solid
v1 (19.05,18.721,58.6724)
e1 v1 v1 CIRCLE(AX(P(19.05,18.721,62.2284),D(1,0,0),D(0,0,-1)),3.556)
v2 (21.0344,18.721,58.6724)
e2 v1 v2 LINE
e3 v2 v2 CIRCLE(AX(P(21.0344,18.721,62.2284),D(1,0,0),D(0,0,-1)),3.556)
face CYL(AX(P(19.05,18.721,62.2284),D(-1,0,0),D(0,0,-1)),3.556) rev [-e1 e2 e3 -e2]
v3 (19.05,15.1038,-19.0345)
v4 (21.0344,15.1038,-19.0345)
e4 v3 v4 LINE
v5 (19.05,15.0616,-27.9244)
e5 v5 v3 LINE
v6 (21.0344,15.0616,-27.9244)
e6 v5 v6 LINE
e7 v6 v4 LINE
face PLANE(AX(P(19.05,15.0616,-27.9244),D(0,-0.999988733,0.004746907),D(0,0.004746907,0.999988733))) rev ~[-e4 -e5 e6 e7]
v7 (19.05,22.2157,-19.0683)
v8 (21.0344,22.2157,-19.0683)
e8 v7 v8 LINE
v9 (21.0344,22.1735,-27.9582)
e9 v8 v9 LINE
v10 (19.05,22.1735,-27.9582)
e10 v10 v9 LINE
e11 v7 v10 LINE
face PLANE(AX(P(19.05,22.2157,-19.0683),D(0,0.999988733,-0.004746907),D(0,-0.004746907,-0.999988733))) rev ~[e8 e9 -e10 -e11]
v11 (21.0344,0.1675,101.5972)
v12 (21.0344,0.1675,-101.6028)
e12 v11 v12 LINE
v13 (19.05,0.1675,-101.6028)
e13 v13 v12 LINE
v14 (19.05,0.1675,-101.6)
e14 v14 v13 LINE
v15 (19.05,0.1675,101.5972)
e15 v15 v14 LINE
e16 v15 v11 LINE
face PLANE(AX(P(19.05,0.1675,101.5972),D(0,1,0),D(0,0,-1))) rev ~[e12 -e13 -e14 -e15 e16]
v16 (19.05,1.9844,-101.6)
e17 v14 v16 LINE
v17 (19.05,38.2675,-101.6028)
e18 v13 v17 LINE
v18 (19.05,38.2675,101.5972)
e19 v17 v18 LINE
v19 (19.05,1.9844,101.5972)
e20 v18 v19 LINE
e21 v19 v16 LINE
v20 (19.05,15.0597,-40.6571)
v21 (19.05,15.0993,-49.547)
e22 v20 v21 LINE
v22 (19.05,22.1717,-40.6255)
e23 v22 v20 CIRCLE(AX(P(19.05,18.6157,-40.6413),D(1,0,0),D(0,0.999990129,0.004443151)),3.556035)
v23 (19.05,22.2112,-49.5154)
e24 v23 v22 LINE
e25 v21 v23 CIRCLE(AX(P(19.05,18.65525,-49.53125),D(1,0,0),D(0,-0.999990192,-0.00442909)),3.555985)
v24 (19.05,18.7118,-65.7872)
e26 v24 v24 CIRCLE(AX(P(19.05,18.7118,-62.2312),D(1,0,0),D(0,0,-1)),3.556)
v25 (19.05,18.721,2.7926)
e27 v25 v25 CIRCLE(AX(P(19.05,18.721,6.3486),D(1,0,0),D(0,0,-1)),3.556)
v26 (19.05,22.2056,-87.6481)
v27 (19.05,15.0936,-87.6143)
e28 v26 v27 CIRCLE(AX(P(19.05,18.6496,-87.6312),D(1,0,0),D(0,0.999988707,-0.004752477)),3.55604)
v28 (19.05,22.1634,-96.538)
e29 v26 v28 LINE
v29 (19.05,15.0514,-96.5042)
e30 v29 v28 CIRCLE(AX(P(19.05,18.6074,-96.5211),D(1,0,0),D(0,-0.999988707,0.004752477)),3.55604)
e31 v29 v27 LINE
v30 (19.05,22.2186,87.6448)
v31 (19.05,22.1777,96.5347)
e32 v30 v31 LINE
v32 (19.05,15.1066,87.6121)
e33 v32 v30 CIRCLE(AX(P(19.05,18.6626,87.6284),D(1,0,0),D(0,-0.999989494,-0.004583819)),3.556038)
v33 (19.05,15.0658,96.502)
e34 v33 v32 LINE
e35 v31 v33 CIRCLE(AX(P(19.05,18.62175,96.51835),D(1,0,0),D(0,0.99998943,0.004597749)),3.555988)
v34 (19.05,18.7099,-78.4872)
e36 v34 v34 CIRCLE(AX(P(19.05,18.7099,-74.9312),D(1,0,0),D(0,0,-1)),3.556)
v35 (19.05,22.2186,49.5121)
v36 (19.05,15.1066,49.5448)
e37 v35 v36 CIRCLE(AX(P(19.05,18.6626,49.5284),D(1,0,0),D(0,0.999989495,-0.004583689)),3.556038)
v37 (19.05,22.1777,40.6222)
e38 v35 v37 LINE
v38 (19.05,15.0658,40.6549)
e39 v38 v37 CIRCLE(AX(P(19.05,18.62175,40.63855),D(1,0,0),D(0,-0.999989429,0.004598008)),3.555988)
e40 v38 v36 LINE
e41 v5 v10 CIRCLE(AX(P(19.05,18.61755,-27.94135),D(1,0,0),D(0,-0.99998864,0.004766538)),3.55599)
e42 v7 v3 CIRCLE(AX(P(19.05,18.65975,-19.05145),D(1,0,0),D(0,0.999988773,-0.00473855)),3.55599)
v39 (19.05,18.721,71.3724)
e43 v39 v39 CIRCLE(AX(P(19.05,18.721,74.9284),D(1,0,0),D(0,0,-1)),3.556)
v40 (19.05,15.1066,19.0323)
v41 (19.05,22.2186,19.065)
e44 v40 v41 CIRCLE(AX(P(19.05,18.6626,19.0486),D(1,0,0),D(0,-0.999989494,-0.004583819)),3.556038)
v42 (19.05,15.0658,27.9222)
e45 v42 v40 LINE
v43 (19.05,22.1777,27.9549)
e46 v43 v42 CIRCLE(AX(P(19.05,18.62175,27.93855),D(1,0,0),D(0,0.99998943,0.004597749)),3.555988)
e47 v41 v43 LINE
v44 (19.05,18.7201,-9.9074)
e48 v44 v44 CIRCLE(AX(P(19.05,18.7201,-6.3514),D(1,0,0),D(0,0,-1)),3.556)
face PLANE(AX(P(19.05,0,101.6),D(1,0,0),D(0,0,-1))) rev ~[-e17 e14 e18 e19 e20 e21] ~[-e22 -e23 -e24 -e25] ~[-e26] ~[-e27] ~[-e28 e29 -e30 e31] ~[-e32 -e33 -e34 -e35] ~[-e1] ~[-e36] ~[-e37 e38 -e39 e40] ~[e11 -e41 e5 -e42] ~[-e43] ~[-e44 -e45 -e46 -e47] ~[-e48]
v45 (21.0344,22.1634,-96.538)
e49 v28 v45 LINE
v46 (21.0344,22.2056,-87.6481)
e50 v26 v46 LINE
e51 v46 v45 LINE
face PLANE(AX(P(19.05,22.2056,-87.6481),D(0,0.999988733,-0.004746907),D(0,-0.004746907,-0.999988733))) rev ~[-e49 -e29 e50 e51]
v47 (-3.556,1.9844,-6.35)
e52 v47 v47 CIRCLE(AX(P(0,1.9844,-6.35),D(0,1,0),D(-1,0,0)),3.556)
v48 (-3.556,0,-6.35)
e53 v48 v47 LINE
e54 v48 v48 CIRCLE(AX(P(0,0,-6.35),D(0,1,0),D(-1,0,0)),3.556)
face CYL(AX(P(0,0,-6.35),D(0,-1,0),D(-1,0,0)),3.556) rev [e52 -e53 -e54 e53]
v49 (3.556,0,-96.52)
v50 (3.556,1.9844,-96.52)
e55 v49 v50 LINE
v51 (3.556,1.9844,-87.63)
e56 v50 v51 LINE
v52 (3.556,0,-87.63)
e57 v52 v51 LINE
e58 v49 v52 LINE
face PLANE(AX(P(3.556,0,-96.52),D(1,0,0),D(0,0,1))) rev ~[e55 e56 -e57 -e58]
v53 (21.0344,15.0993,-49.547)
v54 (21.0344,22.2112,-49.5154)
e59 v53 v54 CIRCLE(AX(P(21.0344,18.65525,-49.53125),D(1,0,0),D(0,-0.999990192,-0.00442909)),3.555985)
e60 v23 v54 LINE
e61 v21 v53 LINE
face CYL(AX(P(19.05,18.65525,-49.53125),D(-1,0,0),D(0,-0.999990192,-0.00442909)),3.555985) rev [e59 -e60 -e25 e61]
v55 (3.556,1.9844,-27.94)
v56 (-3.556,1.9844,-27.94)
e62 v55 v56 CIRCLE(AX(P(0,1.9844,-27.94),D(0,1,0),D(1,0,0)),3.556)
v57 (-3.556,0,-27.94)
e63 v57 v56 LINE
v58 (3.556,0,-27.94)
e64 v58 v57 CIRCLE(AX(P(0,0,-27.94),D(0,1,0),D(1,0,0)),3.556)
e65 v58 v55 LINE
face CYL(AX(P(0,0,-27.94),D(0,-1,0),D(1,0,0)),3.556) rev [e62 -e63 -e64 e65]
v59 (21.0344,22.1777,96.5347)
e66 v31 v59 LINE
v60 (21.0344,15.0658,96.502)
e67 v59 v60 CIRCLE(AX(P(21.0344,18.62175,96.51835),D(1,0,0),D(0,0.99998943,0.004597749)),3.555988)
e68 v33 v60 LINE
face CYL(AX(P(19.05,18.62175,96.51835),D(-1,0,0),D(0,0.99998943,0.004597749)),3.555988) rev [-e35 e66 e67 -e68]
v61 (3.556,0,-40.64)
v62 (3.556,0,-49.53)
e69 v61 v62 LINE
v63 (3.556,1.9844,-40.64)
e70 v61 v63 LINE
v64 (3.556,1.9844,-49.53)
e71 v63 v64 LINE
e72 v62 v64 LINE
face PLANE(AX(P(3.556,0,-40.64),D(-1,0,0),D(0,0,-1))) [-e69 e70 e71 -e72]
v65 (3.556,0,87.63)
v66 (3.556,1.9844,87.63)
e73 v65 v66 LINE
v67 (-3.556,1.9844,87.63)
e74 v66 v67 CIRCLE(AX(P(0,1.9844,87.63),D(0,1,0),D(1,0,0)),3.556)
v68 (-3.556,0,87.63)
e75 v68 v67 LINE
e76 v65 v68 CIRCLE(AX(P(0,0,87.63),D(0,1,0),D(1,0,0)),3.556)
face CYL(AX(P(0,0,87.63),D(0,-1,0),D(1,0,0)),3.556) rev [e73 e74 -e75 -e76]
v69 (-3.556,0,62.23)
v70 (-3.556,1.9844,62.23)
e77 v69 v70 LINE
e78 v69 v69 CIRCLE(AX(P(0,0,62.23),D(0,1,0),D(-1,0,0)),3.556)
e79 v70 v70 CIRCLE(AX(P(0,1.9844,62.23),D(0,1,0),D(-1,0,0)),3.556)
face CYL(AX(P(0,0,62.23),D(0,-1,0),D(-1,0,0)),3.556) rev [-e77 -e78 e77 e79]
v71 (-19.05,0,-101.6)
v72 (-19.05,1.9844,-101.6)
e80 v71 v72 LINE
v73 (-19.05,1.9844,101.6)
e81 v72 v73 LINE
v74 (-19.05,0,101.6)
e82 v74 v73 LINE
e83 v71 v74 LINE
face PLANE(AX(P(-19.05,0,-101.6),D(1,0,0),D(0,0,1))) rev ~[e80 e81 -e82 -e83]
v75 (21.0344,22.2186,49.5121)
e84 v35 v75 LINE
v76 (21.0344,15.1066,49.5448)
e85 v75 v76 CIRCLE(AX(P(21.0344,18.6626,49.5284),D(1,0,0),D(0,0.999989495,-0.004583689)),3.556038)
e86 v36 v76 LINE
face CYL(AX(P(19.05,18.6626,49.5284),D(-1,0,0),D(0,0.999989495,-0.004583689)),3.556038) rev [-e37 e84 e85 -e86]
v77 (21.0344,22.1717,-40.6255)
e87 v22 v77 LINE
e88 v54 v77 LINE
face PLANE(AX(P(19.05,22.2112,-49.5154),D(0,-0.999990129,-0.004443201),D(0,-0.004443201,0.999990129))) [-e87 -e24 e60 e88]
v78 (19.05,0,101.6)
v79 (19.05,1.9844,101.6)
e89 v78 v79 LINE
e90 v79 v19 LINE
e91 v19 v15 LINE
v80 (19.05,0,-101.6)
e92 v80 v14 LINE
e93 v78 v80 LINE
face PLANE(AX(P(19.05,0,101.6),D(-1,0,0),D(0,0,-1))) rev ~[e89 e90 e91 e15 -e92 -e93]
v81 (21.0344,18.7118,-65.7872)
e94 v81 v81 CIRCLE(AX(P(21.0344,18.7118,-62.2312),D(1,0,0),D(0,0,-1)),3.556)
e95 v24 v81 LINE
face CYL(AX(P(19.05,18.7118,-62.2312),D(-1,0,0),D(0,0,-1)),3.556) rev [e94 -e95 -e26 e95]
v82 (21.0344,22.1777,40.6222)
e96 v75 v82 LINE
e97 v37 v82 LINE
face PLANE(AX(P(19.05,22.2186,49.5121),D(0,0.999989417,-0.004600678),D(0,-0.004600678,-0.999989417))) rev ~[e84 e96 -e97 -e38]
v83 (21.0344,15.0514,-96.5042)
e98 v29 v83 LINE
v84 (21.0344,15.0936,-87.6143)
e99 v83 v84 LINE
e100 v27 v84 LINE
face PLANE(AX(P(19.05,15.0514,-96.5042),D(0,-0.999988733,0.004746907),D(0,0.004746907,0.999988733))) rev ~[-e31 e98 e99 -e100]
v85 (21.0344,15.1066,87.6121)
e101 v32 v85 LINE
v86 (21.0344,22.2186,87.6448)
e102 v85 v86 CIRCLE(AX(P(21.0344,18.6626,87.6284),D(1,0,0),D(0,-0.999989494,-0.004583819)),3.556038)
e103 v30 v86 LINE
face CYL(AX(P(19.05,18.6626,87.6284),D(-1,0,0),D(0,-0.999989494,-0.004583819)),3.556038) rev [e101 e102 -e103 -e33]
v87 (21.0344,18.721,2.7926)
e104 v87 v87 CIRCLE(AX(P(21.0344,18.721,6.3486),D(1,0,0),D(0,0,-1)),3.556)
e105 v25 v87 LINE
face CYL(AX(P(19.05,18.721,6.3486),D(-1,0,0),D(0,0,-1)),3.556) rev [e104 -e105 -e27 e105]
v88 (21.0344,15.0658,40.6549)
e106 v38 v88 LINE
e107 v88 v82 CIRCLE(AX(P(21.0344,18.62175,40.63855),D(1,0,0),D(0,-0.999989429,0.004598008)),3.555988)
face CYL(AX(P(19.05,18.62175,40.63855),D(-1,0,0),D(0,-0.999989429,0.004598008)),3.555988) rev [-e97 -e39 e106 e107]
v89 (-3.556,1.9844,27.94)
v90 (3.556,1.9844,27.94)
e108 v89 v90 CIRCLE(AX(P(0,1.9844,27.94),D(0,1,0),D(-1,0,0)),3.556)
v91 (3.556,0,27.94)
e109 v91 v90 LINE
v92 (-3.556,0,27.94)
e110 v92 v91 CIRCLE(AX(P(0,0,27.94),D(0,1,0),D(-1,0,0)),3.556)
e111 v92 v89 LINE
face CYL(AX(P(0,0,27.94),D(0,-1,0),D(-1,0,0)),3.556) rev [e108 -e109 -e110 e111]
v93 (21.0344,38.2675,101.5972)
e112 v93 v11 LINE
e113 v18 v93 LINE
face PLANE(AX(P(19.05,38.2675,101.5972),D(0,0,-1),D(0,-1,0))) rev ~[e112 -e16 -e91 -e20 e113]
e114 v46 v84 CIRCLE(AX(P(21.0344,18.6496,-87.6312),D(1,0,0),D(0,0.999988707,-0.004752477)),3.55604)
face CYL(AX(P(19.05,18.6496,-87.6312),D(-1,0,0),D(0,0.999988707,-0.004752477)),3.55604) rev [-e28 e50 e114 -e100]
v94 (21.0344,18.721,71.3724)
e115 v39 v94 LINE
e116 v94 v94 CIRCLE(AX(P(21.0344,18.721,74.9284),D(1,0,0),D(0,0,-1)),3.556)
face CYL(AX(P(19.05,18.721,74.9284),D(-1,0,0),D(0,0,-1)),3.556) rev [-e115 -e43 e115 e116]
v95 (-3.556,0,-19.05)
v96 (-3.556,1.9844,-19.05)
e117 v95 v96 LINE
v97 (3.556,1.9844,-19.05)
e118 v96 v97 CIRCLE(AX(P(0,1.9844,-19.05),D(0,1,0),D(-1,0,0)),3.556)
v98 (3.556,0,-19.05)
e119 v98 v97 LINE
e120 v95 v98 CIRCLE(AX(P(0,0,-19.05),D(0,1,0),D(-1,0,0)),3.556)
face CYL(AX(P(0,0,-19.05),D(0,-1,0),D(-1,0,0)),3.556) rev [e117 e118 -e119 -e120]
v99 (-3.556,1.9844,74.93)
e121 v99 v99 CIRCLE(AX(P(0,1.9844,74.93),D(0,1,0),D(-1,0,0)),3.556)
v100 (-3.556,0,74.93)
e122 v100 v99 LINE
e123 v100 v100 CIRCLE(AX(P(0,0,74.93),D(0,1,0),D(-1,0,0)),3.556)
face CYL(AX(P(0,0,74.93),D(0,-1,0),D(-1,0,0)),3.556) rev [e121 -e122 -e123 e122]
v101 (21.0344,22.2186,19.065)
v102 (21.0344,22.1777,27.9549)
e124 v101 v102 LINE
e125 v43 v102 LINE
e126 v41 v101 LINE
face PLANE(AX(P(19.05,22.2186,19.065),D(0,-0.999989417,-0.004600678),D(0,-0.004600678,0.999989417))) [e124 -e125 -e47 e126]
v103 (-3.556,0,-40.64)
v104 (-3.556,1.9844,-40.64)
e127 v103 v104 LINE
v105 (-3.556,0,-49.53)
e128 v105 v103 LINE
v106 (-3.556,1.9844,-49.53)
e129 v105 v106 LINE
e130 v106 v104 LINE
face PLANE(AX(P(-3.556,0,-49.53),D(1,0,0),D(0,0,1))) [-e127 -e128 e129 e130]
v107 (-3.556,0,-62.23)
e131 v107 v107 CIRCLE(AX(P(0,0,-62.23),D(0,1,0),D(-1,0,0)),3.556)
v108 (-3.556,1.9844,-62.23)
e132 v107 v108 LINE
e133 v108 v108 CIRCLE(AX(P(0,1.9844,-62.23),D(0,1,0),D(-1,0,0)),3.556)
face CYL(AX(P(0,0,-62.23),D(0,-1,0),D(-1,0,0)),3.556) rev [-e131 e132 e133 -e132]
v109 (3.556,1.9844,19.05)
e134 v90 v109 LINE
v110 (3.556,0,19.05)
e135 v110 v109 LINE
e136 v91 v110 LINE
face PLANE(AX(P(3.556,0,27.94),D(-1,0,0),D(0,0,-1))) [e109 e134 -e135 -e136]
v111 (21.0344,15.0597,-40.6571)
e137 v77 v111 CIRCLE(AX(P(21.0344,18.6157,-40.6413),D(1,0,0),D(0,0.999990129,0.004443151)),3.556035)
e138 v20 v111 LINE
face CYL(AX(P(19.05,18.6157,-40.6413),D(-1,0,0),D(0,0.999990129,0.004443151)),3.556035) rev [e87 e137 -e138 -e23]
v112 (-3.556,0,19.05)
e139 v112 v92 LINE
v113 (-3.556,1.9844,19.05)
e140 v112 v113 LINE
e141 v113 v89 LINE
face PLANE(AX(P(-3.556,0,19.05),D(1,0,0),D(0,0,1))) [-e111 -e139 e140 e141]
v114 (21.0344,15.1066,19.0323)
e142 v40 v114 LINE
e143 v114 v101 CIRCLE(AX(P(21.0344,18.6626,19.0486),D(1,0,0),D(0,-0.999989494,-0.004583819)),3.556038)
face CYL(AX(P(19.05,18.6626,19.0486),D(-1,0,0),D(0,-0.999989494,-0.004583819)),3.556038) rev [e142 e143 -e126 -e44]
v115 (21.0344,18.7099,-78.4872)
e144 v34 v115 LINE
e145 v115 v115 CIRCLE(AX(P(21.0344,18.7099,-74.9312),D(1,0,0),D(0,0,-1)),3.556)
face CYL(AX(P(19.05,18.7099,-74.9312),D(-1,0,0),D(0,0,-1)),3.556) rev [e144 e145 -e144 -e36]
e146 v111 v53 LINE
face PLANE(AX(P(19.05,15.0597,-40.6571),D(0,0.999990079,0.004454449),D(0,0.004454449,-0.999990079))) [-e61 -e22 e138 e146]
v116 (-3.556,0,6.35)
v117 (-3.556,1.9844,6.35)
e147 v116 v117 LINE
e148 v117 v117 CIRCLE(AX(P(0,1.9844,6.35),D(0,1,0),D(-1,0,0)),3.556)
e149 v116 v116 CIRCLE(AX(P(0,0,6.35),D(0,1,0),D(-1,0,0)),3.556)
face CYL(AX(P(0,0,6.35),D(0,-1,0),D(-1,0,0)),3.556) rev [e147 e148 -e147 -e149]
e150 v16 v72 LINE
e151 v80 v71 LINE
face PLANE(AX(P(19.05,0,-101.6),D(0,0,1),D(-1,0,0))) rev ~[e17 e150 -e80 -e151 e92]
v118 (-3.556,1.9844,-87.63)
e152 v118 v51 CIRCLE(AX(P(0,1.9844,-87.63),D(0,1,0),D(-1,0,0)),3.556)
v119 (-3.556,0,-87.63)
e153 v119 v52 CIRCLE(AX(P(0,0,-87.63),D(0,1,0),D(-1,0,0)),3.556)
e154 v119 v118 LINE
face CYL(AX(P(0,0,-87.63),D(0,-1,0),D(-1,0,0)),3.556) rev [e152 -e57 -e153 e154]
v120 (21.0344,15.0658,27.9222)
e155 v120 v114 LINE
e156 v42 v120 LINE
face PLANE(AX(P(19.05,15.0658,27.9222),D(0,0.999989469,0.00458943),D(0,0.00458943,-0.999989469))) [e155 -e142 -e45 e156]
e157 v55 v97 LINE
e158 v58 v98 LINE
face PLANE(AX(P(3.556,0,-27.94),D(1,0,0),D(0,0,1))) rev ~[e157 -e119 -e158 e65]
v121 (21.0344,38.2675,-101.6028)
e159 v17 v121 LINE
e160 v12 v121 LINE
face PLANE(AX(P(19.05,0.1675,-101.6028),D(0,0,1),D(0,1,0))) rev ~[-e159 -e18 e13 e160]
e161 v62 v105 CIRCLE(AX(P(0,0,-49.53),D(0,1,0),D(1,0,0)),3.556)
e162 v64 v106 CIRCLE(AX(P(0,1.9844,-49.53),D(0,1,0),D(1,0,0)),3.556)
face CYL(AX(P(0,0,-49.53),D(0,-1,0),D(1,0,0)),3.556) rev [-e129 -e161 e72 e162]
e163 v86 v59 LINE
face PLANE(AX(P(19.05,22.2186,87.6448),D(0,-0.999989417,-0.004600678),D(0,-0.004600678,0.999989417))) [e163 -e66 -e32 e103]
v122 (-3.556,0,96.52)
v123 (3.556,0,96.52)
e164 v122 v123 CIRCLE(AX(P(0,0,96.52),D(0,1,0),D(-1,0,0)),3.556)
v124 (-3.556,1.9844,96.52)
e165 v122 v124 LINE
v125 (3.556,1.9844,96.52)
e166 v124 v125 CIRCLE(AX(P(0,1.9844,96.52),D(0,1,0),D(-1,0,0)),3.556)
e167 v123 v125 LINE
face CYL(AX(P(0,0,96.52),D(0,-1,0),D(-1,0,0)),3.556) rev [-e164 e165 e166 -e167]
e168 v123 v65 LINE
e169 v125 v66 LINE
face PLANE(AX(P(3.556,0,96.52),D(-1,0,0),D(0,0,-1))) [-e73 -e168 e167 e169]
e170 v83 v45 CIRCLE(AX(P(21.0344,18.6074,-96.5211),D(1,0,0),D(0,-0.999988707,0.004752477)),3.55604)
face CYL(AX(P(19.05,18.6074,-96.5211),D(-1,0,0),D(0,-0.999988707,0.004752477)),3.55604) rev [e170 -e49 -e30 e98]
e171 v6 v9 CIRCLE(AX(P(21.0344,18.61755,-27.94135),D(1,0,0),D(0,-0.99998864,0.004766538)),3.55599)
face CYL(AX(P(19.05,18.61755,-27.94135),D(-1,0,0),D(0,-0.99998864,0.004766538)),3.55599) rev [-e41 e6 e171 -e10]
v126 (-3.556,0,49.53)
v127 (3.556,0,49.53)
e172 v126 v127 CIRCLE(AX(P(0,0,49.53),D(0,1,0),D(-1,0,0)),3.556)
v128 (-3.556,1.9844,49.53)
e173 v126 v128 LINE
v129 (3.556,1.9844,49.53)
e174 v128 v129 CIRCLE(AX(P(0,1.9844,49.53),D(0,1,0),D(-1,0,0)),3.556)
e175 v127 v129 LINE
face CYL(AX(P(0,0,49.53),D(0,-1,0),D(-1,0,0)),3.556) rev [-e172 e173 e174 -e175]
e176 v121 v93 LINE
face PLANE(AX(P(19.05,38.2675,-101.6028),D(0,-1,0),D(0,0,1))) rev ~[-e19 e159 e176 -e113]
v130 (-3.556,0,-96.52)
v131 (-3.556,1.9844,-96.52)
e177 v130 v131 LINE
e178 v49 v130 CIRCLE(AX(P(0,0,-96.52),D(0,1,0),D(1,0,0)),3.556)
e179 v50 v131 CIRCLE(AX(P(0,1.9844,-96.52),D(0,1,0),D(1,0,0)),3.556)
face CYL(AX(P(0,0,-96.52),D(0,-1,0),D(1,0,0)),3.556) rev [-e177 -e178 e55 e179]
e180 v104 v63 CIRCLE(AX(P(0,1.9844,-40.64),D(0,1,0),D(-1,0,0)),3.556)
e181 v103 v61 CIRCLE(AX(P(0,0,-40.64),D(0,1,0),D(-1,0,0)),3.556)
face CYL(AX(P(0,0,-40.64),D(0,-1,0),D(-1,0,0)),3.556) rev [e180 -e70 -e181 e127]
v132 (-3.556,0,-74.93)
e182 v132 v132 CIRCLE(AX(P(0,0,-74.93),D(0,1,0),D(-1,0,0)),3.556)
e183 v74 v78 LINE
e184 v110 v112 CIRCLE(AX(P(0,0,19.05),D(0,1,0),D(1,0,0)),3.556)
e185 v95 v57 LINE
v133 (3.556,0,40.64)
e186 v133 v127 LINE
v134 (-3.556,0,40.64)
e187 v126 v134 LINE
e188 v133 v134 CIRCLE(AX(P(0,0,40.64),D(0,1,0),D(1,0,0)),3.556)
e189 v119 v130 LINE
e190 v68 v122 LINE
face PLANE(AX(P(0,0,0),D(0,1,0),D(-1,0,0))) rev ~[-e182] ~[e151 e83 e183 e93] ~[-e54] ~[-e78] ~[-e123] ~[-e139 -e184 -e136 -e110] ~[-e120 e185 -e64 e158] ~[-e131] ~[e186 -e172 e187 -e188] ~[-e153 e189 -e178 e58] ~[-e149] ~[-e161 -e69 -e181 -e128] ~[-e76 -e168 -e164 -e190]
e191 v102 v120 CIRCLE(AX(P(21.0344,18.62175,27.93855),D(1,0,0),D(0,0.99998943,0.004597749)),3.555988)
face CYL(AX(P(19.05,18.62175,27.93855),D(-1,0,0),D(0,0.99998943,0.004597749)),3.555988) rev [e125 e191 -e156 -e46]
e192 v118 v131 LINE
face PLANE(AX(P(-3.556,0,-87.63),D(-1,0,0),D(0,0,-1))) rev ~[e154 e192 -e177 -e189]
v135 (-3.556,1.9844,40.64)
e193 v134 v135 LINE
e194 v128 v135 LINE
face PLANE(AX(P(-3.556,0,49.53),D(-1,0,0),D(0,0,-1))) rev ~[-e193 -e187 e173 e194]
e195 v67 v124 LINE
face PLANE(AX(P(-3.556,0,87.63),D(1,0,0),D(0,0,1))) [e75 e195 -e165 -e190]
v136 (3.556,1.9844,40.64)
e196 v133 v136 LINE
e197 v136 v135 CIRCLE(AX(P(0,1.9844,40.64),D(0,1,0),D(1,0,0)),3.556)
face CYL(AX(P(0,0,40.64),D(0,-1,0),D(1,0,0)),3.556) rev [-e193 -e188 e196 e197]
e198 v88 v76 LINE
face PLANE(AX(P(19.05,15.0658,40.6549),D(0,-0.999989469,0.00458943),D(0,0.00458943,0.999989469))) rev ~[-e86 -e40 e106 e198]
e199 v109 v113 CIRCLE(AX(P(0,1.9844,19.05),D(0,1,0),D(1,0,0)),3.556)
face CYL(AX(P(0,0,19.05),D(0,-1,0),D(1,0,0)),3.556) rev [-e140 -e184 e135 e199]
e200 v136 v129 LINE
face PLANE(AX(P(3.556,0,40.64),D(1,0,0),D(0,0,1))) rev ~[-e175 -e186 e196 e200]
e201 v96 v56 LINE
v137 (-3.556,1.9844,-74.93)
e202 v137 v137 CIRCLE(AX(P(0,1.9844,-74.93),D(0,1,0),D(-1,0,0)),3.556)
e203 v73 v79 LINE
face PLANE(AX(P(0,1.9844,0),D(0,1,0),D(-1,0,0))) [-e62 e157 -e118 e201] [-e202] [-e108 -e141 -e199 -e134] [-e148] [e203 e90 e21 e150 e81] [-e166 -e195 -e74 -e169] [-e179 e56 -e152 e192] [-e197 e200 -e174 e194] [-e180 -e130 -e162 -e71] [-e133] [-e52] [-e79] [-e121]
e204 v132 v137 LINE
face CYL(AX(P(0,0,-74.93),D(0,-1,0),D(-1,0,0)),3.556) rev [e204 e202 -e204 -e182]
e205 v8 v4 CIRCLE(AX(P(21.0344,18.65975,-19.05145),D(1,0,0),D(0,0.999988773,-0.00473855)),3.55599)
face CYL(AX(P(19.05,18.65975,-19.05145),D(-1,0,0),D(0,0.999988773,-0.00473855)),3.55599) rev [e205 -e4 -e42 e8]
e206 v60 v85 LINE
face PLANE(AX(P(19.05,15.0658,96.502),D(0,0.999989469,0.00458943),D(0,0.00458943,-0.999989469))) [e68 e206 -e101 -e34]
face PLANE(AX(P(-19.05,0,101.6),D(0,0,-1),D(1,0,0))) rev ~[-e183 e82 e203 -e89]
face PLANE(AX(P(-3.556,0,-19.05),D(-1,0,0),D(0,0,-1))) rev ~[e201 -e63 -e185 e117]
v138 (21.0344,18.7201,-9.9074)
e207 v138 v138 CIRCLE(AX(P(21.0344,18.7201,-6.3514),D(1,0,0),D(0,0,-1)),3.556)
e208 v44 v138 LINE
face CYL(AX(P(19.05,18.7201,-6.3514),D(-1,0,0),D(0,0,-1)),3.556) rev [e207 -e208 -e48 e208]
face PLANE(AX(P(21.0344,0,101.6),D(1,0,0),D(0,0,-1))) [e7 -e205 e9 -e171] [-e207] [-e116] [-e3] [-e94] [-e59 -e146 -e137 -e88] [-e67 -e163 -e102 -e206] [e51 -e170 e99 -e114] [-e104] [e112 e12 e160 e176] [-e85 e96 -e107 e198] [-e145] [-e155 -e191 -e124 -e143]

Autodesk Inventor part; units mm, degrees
ref_plane "YZ Plane" through (0, 0, 0) normal (1, 0, 0) x (0, 1, 0)
ref_plane "XZ Plane" through (0, 0, 0) normal (0, 1, 0) x (-1, 0, 0)
ref_plane "XY Plane" through (0, 0, 0) normal (0, 0, 1) x (1, 0, 0)
sketch "Sketch1" plane through (0, 0, 0) normal (0, 1, 0) x (-1, 0, 0)
  line L0 (19.05, 101.6) -> (-19.05, 101.6)
  line L1 (-19.05, 101.6) -> (-19.05, -101.6)
  line L2 (-19.05, -101.6) -> (19.05, -101.6)
  line L3 (19.05, -101.6) -> (19.05, 101.6)
  line L4 (19.05, 101.6) -> (-19.05, -101.6) construction
  line L5 (-19.05, 101.6) -> (19.05, -101.6) construction
  circle A0 centre (0, 62.23) radius 3.556
  circle A1 centre (0, 6.35) radius 3.556
  line L6 (0, 101.6) -> (0, -101.6) construction
  line L7 (0, 49.53) -> (0, 40.64) construction
  line L8 (3.556, 49.53) -> (3.556, 40.64)
  line L9 (-3.556, 40.64) -> (-3.556, 49.53)
  arc A2 (3.556, 49.53) -> (-3.556, 49.53) centre (0, 49.53) ccw
  arc A3 (-3.556, 40.64) -> (3.556, 40.64) centre (0, 40.64) ccw
  line L10 (0, 27.94) -> (0, 19.05) construction
  line L11 (-3.556, 27.94) -> (-3.556, 19.05)
  line L12 (3.556, 19.05) -> (3.556, 27.94)
  arc A4 (3.556, 27.94) -> (-3.556, 27.94) centre (0, 27.94) ccw
  arc A5 (-3.556, 19.05) -> (3.556, 19.05) centre (0, 19.05) ccw
  line L13 (19.05, 68.58) -> (-6.1251, 68.58) construction
  line L14 (-6.1251, 68.58) -> (-19.05, 68.58) construction
  circle A6 centre (0, 74.93) radius 3.556
  circle A7 centre (0, 130.81) radius 3.556
  line L15 (0, 87.63) -> (0, 96.52) construction
  line L16 (3.556, 87.63) -> (3.556, 96.52)
  line L17 (-3.556, 96.52) -> (-3.556, 87.63)
  arc A8 (-3.556, 87.63) -> (3.556, 87.63) centre (0, 87.63) ccw
  arc A9 (3.556, 96.52) -> (-3.556, 96.52) centre (0, 96.52) ccw
  line L18 (0, 109.22) -> (0, 118.11) construction
  line L19 (-3.556, 109.22) -> (-3.556, 118.11)
  line L20 (3.556, 118.11) -> (3.556, 109.22)
  arc A10 (-3.556, 109.22) -> (3.556, 109.22) centre (0, 109.22) ccw
  arc A11 (3.556, 118.11) -> (-3.556, 118.11) centre (0, 118.11) ccw
  line L21 (19.05, 0) -> (-19.05, 0) construction
  circle A12 centre (0, -62.23) radius 3.556
  circle A13 centre (0, -6.35) radius 3.556
  line L22 (0, -49.53) -> (0, -40.64) construction
  line L23 (3.556, -49.53) -> (3.556, -40.64)
  line L24 (-3.556, -40.64) -> (-3.556, -49.53)
  arc A14 (-3.556, -49.53) -> (3.556, -49.53) centre (0, -49.53) ccw
  arc A15 (3.556, -40.64) -> (-3.556, -40.64) centre (0, -40.64) ccw
  line L25 (0, -27.94) -> (0, -19.05) construction
  line L26 (-3.556, -27.94) -> (-3.556, -19.05)
  line L27 (3.556, -19.05) -> (3.556, -27.94)
  arc A16 (-3.556, -27.94) -> (3.556, -27.94) centre (0, -27.94) ccw
  arc A17 (3.556, -19.05) -> (-3.556, -19.05) centre (0, -19.05) ccw
  line L28 (0, -109.22) -> (0, -118.11) construction
  line L29 (3.556, -118.11) -> (3.556, -109.22)
  arc A18 (3.556, -109.22) -> (-3.556, -109.22) centre (0, -109.22) ccw
  arc A19 (-3.556, -118.11) -> (3.556, -118.11) centre (0, -118.11) ccw
  circle A20 centre (0, -130.81) radius 3.556
  line L30 (-3.556, -109.22) -> (-3.556, -118.11)
  line L31 (0, -87.63) -> (0, -96.52) construction
  line L32 (-3.556, -96.52) -> (-3.556, -87.63)
  arc A21 (-3.556, -96.52) -> (3.556, -96.52) centre (0, -96.52) ccw
  arc A22 (3.556, -87.63) -> (-3.556, -87.63) centre (0, -87.63) ccw
  circle A23 centre (0, -74.93) radius 3.556
  line L33 (3.556, -87.63) -> (3.556, -96.52)
  line L34 (19.05, -137.16) -> (-19.05, -137.16) construction
  line L35 (19.05, 137.16) -> (-19.05, 137.16) construction
  circle A24 centre (0, 212.09) radius 3.556
  circle A25 centre (0, 267.97) radius 3.556
  line L36 (0, 224.79) -> (0, 233.68) construction
  line L37 (3.556, 224.79) -> (3.556, 233.68)
  line L38 (-3.556, 233.68) -> (-3.556, 224.79)
  arc A26 (-3.556, 224.79) -> (3.556, 224.79) centre (0, 224.79) ccw
  arc A27 (3.556, 233.68) -> (-3.556, 233.68) centre (0, 233.68) ccw
  line L39 (0, 246.38) -> (0, 255.27) construction
  line L40 (-3.556, 246.38) -> (-3.556, 255.27)
  line L41 (3.556, 255.27) -> (3.556, 246.38)
  arc A28 (-3.556, 246.38) -> (3.556, 246.38) centre (0, 246.38) ccw
  arc A29 (3.556, 255.27) -> (-3.556, 255.27) centre (0, 255.27) ccw
  line L42 (0, 165.1) -> (0, 156.21) construction
  line L43 (3.556, 156.21) -> (3.556, 165.1)
  arc A30 (3.556, 165.1) -> (-3.556, 165.1) centre (0, 165.1) ccw
  arc A31 (-3.556, 156.21) -> (3.556, 156.21) centre (0, 156.21) ccw
  circle A32 centre (0, 143.51) radius 3.556
  line L44 (-3.556, 165.1) -> (-3.556, 156.21)
  line L45 (0, 186.69) -> (0, 177.8) construction
  line L46 (-3.556, 177.8) -> (-3.556, 186.69)
  arc A33 (-3.556, 177.8) -> (3.556, 177.8) centre (0, 177.8) ccw
  arc A34 (3.556, 186.69) -> (-3.556, 186.69) centre (0, 186.69) ccw
  circle A35 centre (0, 199.39) radius 3.556
  line L47 (3.556, 186.69) -> (3.556, 177.8)
  arc A36 (3.556, 302.26) -> (-3.556, 302.26) centre (0, 302.26) ccw
  arc A37 (-3.556, 293.37) -> (3.556, 293.37) centre (0, 293.37) ccw
  circle A38 centre (0, 280.67) radius 3.556
  line L48 (-3.556, 302.26) -> (-3.556, 293.37)
  line L49 (3.556, 293.37) -> (3.556, 302.26)
  line L50 (0, 302.26) -> (0, 293.37) construction
  circle A39 centre (0, -280.67) radius 3.556
  line L51 (0, -302.26) -> (0, -293.37) construction
  line L52 (-3.556, -302.26) -> (-3.556, -293.37)
  line L53 (3.556, -293.37) -> (3.556, -302.26)
  arc A40 (-3.556, -302.26) -> (3.556, -302.26) centre (0, -302.26) ccw
  arc A41 (3.556, -293.37) -> (-3.556, -293.37) centre (0, -293.37) ccw
  line L54 (19.05, -274.32) -> (-19.05, -274.32) construction
  arc A42 (3.556, -246.38) -> (-3.556, -246.38) centre (0, -246.38) ccw
  arc A43 (-3.556, -255.27) -> (3.556, -255.27) centre (0, -255.27) ccw
  circle A44 centre (0, -267.97) radius 3.556
  line L55 (-3.556, -246.38) -> (-3.556, -255.27)
  line L56 (3.556, -255.27) -> (3.556, -246.38)
  line L57 (0, -246.38) -> (0, -255.27) construction
  line L58 (0, -224.79) -> (0, -233.68) construction
  line L59 (-3.556, -233.68) -> (-3.556, -224.79)
  circle A45 centre (0, -212.09) radius 3.556
  arc A46 (3.556, -224.79) -> (-3.556, -224.79) centre (0, -224.79) ccw
  line L60 (3.556, -224.79) -> (3.556, -233.68)
  arc A47 (-3.556, -233.68) -> (3.556, -233.68) centre (0, -233.68) ccw
  arc A48 (3.556, -177.8) -> (-3.556, -177.8) centre (0, -177.8) ccw
  arc A49 (-3.556, -165.1) -> (3.556, -165.1) centre (0, -165.1) ccw
  line L61 (0, -165.1) -> (0, -156.21) construction
  line L62 (-3.556, -165.1) -> (-3.556, -156.21)
  line L63 (3.556, -156.21) -> (3.556, -165.1)
  arc A50 (3.556, -156.21) -> (-3.556, -156.21) centre (0, -156.21) ccw
  circle A51 centre (0, -143.51) radius 3.556
  line L64 (0, -186.69) -> (0, -177.8) construction
  line L65 (-3.556, -177.8) -> (-3.556, -186.69)
  line L66 (3.556, -186.69) -> (3.556, -177.8)
  arc A52 (-3.556, -186.69) -> (3.556, -186.69) centre (0, -186.69) ccw
  circle A53 centre (0, -199.39) radius 3.556
  point P0 (0, 0)
  point P1 (0, 45.085)
  point P2 (0, 23.495)
  point P3 (0, 92.075)
  point P4 (0, 113.665)
  point P5 (0, -45.085)
  point P6 (0, -23.495)
  point P7 (-6.1251, -68.58)
  point P8 (0, -113.665)
  point P9 (0, -92.075)
  point P10 (0, 274.32)
  point P11 (0, 229.235)
  point P12 (0, 250.825)
  point P13 (-6.1251, 205.74)
  point P14 (0, 160.655)
  point P15 (0, 182.245)
  point P16 (0, 297.815)
  point P17 (0, -274.32)
  point P18 (0, -297.815)
  point P19 (0, -250.825)
  point P20 (0, -229.235)
  point P21 (0, -160.655)
  point P22 (-6.1251, -205.74)
  point P23 (0, -182.245)
  point P24 (2.4887, -304.8)
  point P25 (2.4887, 304.8)
  point P26 (-2.4887, 304.8)
  point P27 (-2.4887, -304.8)
  dimension "d1" = 203.2
  dimension "d3" = 7.112
  dimension "d6" = 7.112
  dimension "d9" = 3.556
  dimension "d10" = 3.556
  dimension "d11" = 6.35
  dimension "d12" = 12.7
  dimension "d13" = 8.89
  dimension "d14" = 8.89
  dimension "d15" = 12.7
  dimension "d16" = 12.7
  dimension "d26" = 6.35
  dimension "d29" = 6.35
  dimension "d30" = 6.35
extrude "Extrusion1" add sketch "Sketch1" along normal blind 1.9844 contours L3 L2 L1 L0
sketch "Sketch5" plane through (19.05, 0, 101.6) normal (1, 0, 0) x (0, 0, -1)
  line L0 (0.0028, 0.1675) -> (203.2028, 0.1675)
  line L1 (203.2028, 0.1675) -> (203.2028, 38.2675)
  line L2 (203.2028, 38.2675) -> (0.0028, 38.2675)
  line L3 (0.0028, 38.2675) -> (0.0028, 0.1675)
  line L4 (101.6, 0) -> (101.6028, 38.2675) construction
  line L5 (0.0028, 18.2829) -> (203.2028, 19.2175) construction
  circle A0 centre (95.2514, 18.721) radius 3.556
  line L6 (82.5514, 18.6626) -> (73.6615, 18.6217) construction
  line L7 (82.535, 22.2186) -> (73.6451, 22.1777)
  line L8 (73.6778, 15.0658) -> (82.5677, 15.1066)
  arc A1 (82.5677, 15.1066) -> (82.535, 22.2186) centre (82.5514, 18.6626) ccw
  arc A2 (73.6451, 22.1777) -> (73.6778, 15.0658) centre (73.6615, 18.6217) ccw
  line L9 (0, 0) -> (203.2, 0) construction
  line L10 (67.3115, 38.2675) -> (67.3115, 0) construction
  circle A3 centre (39.3716, 18.721) radius 3.556
  line L11 (52.0716, 18.6626) -> (60.9615, 18.6217) construction
  line L12 (52.0879, 22.2186) -> (60.9778, 22.1777)
  line L13 (60.9451, 15.0658) -> (52.0552, 15.1066)
  arc A4 (52.0879, 22.2186) -> (52.0552, 15.1066) centre (52.0716, 18.6626) ccw
  arc A5 (60.9451, 15.0658) -> (60.9778, 22.1777) centre (60.9615, 18.6217) ccw
  line L14 (33.0216, 38.2675) -> (33.0216, 0) construction
  circle A6 centre (-29.2082, 18.721) radius 3.556
  line L15 (-16.5082, 18.6626) -> (-7.6183, 18.6217) construction
  line L16 (-16.4919, 22.2186) -> (-7.602, 22.1777)
  line L17 (-7.6347, 15.0658) -> (-16.5246, 15.1066)
  arc A7 (-16.4919, 22.2186) -> (-16.5246, 15.1066) centre (-16.5082, 18.6626) ccw
  arc A8 (-7.6347, 15.0658) -> (-7.602, 22.1777) centre (-7.6183, 18.6217) ccw
  line L18 (13.9716, 18.6626) -> (5.0817, 18.6217) construction
  line L19 (5.098, 15.0658) -> (13.9879, 15.1066)
  arc A9 (5.0653, 22.1777) -> (5.098, 15.0658) centre (5.0817, 18.6217) ccw
  circle A10 centre (26.6716, 18.721) radius 3.556
  arc A11 (13.9879, 15.1066) -> (13.9552, 22.2186) centre (13.9716, 18.6626) ccw
  line L20 (13.9552, 22.2186) -> (5.0653, 22.1777)
  line L21 (-35.5582, 38.2675) -> (-35.5582, 0) construction
  circle A12 centre (-166.3679, 18.721) radius 3.556
  line L22 (-153.6679, 18.6626) -> (-144.778, 18.6217) construction
  line L23 (-153.6515, 22.2186) -> (-144.7616, 22.1777)
  line L24 (-144.7943, 15.0658) -> (-153.6842, 15.1066)
  arc A13 (-153.6515, 22.2186) -> (-153.6842, 15.1066) centre (-153.6679, 18.6626) ccw
  arc A14 (-144.7943, 15.0658) -> (-144.7616, 22.1777) centre (-144.778, 18.6217) ccw
  line L25 (-123.188, 18.6626) -> (-132.078, 18.6217) construction
  line L26 (-132.0616, 15.0658) -> (-123.1717, 15.1066)
  arc A15 (-132.0943, 22.1777) -> (-132.0616, 15.0658) centre (-132.078, 18.6217) ccw
  circle A16 centre (-110.488, 18.721) radius 3.556
  arc A17 (-123.1717, 15.1066) -> (-123.2044, 22.2186) centre (-123.188, 18.6626) ccw
  line L27 (-123.2044, 22.2186) -> (-132.0943, 22.1777)
  arc A18 (-85.0717, 22.2186) -> (-85.1044, 15.1066) centre (-85.088, 18.6626) ccw
  line L28 (-85.088, 18.6626) -> (-76.1981, 18.6217) construction
  line L29 (-85.0717, 22.2186) -> (-76.1818, 22.1777)
  arc A19 (-76.2145, 15.0658) -> (-76.1818, 22.1777) centre (-76.1981, 18.6217) ccw
  arc A20 (-63.5145, 22.1777) -> (-63.4818, 15.0658) centre (-63.4981, 18.6217) ccw
  line L30 (-54.6246, 22.2186) -> (-63.5145, 22.1777)
  line L31 (-63.4818, 15.0658) -> (-54.5919, 15.1066)
  arc A21 (-54.5919, 15.1066) -> (-54.6246, 22.2186) centre (-54.6082, 18.6626) ccw
  circle A22 centre (-41.9082, 18.721) radius 3.556
  circle A23 centre (-97.788, 18.721) radius 3.556
  line L32 (-54.6082, 18.6626) -> (-63.4981, 18.6217) construction
  line L33 (-76.2145, 15.0658) -> (-85.1044, 15.1066)
  line L34 (-172.7179, 38.2675) -> (-172.7179, 0) construction
  arc A24 (-191.7515, 15.1066) -> (-191.7842, 22.2186) centre (-191.7679, 18.6626) ccw
  line L35 (-191.7679, 18.6626) -> (-200.6578, 18.6217) construction
  line L36 (-200.6414, 15.0658) -> (-191.7515, 15.1066)
  arc A25 (-200.6741, 22.1777) -> (-200.6414, 15.0658) centre (-200.6578, 18.6217) ccw
  circle A26 centre (-179.0679, 18.721) radius 3.556
  line L37 (-191.7842, 22.2186) -> (-200.6741, 22.1777)
  circle A27 centre (107.9514, 18.7201) radius 3.556
  line L38 (120.6514, 18.6598) -> (129.5413, 18.6176) construction
  line L39 (120.6683, 22.2157) -> (129.5582, 22.1735)
  line L40 (129.5244, 15.0616) -> (120.6345, 15.1038)
  arc A28 (120.6683, 22.2157) -> (120.6345, 15.1038) centre (120.6514, 18.6598) ccw
  arc A29 (129.5244, 15.0616) -> (129.5582, 22.1735) centre (129.5413, 18.6176) ccw
  line L41 (151.1312, 18.6553) -> (142.2413, 18.6157) construction
  line L42 (142.2571, 15.0597) -> (151.147, 15.0993)
  arc A30 (142.2255, 22.1717) -> (142.2571, 15.0597) centre (142.2413, 18.6157) ccw
  circle A31 centre (163.8312, 18.7118) radius 3.556
  arc A32 (151.147, 15.0993) -> (151.1154, 22.2112) centre (151.1312, 18.6553) ccw
  line L43 (151.1154, 22.2112) -> (142.2255, 22.1717)
  arc A33 (189.2481, 22.2056) -> (189.2143, 15.0936) centre (189.2312, 18.6496) ccw
  line L44 (189.2312, 18.6496) -> (198.1211, 18.6074) construction
  line L45 (189.2481, 22.2056) -> (198.138, 22.1634)
  arc A34 (198.1042, 15.0514) -> (198.138, 22.1634) centre (198.1211, 18.6074) ccw
  arc A35 (210.8053, 22.1615) -> (210.8369, 15.0496) centre (210.8211, 18.6055) ccw
  line L46 (219.6952, 22.2011) -> (210.8053, 22.1615)
  line L47 (210.8369, 15.0496) -> (219.7268, 15.0891)
  arc A36 (219.7268, 15.0891) -> (219.6952, 22.2011) centre (219.711, 18.6451) ccw
  circle A37 centre (232.411, 18.7016) radius 3.556
  circle A38 centre (176.5312, 18.7099) radius 3.556
  line L48 (219.711, 18.6451) -> (210.8211, 18.6055) construction
  line L49 (198.1042, 15.0514) -> (189.2143, 15.0936)
  arc A39 (356.8865, 15.0688) -> (356.8548, 22.1807) centre (356.8706, 18.6247) ccw
  line L50 (356.8706, 18.6247) -> (347.9807, 18.5852) construction
  line L51 (347.9965, 15.0292) -> (356.8865, 15.0688)
  arc A40 (347.9649, 22.1411) -> (347.9965, 15.0292) centre (347.9807, 18.5852) ccw
  arc A41 (335.2638, 15.0311) -> (335.2976, 22.143) centre (335.2807, 18.5871) ccw
  line L52 (326.3908, 18.6293) -> (335.2807, 18.5871) construction
  arc A42 (326.4077, 22.1852) -> (326.3739, 15.0733) centre (326.3908, 18.6293) ccw
  circle A43 centre (369.5706, 18.6813) radius 3.556
  line L53 (356.8548, 22.1807) -> (347.9649, 22.1411)
  circle A44 centre (313.6908, 18.6896) radius 3.556
  line L54 (326.4077, 22.1852) -> (335.2976, 22.143)
  line L55 (335.2638, 15.0311) -> (326.3739, 15.0733)
  circle A45 centre (300.9908, 18.6914) radius 3.556
  arc A46 (288.3066, 15.079) -> (288.275, 22.1909) centre (288.2908, 18.6349) ccw
  line L56 (288.275, 22.1909) -> (279.3851, 22.1513)
  line L57 (288.2908, 18.6349) -> (279.4009, 18.5953) construction
  line L58 (279.4167, 15.0394) -> (288.3066, 15.079)
  arc A47 (279.3851, 22.1513) -> (279.4167, 15.0394) centre (279.4009, 18.5953) ccw
  arc A48 (266.684, 15.0413) -> (266.7178, 22.1532) centre (266.7009, 18.5972) ccw
  line L59 (257.8279, 22.1954) -> (266.7178, 22.1532)
  line L60 (257.811, 18.6394) -> (266.7009, 18.5972) construction
  line L61 (266.684, 15.0413) -> (257.7941, 15.0835)
  arc A49 (257.8279, 22.1954) -> (257.7941, 15.0835) centre (257.811, 18.6394) ccw
  circle A50 centre (245.111, 18.6997) radius 3.556
  arc A51 (394.9875, 22.1751) -> (394.9537, 15.0631) centre (394.9706, 18.6191) ccw
  line L62 (394.9706, 18.6191) -> (403.8605, 18.5769) construction
  line L63 (403.8436, 15.0209) -> (394.9537, 15.0631)
  arc A52 (403.8436, 15.0209) -> (403.8774, 22.1329) centre (403.8605, 18.5769) ccw
  line L64 (394.9875, 22.1751) -> (403.8774, 22.1329)
  circle A53 centre (382.2706, 18.6794) radius 3.556
  point P0 (78.1064, 18.6422)
  point P1 (56.5165, 18.6422)
  point P2 (-12.0633, 18.6422)
  point P3 (9.5266, 18.6422)
  point P4 (-149.2229, 18.6422)
  point P5 (-127.633, 18.6422)
  point P6 (-80.6431, 18.6422)
  point P7 (-59.0532, 18.6422)
  point P8 (-196.2128, 18.6422)
  point P9 (203.1999, 18.2679)
  point P10 (125.0963, 18.6387)
  point P11 (146.6862, 18.6355)
  point P12 (193.6761, 18.6285)
  point P13 (215.266, 18.6253)
  point P14 (352.4257, 18.605)
  point P15 (330.8358, 18.6082)
  point P16 (283.8459, 18.6151)
  point P17 (262.256, 18.6183)
  point P18 (399.4156, 18.598)
  point P19 (457.2028, 21.1288)
  point P20 (-152.3972, 21.1766)
  point P21 (-152.3972, 16.1965)
  point P22 (457.2028, 16.1547)
  dimension "d61" = 203.2
  dimension "d62" = 38.1
  dimension "d63" = 7.112
  dimension "d64" = 8.89
  dimension "d65" = 7.112
  dimension "d66" = 6.35
  dimension "d67" = 12.7
  dimension "d72" = 6.35
  dimension "d73" = 6.35
  dimension "d74" = 6.35
  dimension "d75" = 6.35
extrude "Extrusion2" add sketch "Sketch5" along normal blind 1.9844 contours L3 L2 L1 L0
equation "\"d6\" = d3"
equation "\"d9\" = 0.5 * d3"
equation "\"d10\" = d9"
equation "\"d14\" = d13"
equation "\"d15\" = d12"
equation "\"d16\" = d12"
equation "\"d65\" = d63"
equation "\"d72\" = d66"
equation "\"d73\" = d66"
equation "\"d74\" = d66"
equation "\"d75\" = d66"
properties part number "ChassisFrame"
